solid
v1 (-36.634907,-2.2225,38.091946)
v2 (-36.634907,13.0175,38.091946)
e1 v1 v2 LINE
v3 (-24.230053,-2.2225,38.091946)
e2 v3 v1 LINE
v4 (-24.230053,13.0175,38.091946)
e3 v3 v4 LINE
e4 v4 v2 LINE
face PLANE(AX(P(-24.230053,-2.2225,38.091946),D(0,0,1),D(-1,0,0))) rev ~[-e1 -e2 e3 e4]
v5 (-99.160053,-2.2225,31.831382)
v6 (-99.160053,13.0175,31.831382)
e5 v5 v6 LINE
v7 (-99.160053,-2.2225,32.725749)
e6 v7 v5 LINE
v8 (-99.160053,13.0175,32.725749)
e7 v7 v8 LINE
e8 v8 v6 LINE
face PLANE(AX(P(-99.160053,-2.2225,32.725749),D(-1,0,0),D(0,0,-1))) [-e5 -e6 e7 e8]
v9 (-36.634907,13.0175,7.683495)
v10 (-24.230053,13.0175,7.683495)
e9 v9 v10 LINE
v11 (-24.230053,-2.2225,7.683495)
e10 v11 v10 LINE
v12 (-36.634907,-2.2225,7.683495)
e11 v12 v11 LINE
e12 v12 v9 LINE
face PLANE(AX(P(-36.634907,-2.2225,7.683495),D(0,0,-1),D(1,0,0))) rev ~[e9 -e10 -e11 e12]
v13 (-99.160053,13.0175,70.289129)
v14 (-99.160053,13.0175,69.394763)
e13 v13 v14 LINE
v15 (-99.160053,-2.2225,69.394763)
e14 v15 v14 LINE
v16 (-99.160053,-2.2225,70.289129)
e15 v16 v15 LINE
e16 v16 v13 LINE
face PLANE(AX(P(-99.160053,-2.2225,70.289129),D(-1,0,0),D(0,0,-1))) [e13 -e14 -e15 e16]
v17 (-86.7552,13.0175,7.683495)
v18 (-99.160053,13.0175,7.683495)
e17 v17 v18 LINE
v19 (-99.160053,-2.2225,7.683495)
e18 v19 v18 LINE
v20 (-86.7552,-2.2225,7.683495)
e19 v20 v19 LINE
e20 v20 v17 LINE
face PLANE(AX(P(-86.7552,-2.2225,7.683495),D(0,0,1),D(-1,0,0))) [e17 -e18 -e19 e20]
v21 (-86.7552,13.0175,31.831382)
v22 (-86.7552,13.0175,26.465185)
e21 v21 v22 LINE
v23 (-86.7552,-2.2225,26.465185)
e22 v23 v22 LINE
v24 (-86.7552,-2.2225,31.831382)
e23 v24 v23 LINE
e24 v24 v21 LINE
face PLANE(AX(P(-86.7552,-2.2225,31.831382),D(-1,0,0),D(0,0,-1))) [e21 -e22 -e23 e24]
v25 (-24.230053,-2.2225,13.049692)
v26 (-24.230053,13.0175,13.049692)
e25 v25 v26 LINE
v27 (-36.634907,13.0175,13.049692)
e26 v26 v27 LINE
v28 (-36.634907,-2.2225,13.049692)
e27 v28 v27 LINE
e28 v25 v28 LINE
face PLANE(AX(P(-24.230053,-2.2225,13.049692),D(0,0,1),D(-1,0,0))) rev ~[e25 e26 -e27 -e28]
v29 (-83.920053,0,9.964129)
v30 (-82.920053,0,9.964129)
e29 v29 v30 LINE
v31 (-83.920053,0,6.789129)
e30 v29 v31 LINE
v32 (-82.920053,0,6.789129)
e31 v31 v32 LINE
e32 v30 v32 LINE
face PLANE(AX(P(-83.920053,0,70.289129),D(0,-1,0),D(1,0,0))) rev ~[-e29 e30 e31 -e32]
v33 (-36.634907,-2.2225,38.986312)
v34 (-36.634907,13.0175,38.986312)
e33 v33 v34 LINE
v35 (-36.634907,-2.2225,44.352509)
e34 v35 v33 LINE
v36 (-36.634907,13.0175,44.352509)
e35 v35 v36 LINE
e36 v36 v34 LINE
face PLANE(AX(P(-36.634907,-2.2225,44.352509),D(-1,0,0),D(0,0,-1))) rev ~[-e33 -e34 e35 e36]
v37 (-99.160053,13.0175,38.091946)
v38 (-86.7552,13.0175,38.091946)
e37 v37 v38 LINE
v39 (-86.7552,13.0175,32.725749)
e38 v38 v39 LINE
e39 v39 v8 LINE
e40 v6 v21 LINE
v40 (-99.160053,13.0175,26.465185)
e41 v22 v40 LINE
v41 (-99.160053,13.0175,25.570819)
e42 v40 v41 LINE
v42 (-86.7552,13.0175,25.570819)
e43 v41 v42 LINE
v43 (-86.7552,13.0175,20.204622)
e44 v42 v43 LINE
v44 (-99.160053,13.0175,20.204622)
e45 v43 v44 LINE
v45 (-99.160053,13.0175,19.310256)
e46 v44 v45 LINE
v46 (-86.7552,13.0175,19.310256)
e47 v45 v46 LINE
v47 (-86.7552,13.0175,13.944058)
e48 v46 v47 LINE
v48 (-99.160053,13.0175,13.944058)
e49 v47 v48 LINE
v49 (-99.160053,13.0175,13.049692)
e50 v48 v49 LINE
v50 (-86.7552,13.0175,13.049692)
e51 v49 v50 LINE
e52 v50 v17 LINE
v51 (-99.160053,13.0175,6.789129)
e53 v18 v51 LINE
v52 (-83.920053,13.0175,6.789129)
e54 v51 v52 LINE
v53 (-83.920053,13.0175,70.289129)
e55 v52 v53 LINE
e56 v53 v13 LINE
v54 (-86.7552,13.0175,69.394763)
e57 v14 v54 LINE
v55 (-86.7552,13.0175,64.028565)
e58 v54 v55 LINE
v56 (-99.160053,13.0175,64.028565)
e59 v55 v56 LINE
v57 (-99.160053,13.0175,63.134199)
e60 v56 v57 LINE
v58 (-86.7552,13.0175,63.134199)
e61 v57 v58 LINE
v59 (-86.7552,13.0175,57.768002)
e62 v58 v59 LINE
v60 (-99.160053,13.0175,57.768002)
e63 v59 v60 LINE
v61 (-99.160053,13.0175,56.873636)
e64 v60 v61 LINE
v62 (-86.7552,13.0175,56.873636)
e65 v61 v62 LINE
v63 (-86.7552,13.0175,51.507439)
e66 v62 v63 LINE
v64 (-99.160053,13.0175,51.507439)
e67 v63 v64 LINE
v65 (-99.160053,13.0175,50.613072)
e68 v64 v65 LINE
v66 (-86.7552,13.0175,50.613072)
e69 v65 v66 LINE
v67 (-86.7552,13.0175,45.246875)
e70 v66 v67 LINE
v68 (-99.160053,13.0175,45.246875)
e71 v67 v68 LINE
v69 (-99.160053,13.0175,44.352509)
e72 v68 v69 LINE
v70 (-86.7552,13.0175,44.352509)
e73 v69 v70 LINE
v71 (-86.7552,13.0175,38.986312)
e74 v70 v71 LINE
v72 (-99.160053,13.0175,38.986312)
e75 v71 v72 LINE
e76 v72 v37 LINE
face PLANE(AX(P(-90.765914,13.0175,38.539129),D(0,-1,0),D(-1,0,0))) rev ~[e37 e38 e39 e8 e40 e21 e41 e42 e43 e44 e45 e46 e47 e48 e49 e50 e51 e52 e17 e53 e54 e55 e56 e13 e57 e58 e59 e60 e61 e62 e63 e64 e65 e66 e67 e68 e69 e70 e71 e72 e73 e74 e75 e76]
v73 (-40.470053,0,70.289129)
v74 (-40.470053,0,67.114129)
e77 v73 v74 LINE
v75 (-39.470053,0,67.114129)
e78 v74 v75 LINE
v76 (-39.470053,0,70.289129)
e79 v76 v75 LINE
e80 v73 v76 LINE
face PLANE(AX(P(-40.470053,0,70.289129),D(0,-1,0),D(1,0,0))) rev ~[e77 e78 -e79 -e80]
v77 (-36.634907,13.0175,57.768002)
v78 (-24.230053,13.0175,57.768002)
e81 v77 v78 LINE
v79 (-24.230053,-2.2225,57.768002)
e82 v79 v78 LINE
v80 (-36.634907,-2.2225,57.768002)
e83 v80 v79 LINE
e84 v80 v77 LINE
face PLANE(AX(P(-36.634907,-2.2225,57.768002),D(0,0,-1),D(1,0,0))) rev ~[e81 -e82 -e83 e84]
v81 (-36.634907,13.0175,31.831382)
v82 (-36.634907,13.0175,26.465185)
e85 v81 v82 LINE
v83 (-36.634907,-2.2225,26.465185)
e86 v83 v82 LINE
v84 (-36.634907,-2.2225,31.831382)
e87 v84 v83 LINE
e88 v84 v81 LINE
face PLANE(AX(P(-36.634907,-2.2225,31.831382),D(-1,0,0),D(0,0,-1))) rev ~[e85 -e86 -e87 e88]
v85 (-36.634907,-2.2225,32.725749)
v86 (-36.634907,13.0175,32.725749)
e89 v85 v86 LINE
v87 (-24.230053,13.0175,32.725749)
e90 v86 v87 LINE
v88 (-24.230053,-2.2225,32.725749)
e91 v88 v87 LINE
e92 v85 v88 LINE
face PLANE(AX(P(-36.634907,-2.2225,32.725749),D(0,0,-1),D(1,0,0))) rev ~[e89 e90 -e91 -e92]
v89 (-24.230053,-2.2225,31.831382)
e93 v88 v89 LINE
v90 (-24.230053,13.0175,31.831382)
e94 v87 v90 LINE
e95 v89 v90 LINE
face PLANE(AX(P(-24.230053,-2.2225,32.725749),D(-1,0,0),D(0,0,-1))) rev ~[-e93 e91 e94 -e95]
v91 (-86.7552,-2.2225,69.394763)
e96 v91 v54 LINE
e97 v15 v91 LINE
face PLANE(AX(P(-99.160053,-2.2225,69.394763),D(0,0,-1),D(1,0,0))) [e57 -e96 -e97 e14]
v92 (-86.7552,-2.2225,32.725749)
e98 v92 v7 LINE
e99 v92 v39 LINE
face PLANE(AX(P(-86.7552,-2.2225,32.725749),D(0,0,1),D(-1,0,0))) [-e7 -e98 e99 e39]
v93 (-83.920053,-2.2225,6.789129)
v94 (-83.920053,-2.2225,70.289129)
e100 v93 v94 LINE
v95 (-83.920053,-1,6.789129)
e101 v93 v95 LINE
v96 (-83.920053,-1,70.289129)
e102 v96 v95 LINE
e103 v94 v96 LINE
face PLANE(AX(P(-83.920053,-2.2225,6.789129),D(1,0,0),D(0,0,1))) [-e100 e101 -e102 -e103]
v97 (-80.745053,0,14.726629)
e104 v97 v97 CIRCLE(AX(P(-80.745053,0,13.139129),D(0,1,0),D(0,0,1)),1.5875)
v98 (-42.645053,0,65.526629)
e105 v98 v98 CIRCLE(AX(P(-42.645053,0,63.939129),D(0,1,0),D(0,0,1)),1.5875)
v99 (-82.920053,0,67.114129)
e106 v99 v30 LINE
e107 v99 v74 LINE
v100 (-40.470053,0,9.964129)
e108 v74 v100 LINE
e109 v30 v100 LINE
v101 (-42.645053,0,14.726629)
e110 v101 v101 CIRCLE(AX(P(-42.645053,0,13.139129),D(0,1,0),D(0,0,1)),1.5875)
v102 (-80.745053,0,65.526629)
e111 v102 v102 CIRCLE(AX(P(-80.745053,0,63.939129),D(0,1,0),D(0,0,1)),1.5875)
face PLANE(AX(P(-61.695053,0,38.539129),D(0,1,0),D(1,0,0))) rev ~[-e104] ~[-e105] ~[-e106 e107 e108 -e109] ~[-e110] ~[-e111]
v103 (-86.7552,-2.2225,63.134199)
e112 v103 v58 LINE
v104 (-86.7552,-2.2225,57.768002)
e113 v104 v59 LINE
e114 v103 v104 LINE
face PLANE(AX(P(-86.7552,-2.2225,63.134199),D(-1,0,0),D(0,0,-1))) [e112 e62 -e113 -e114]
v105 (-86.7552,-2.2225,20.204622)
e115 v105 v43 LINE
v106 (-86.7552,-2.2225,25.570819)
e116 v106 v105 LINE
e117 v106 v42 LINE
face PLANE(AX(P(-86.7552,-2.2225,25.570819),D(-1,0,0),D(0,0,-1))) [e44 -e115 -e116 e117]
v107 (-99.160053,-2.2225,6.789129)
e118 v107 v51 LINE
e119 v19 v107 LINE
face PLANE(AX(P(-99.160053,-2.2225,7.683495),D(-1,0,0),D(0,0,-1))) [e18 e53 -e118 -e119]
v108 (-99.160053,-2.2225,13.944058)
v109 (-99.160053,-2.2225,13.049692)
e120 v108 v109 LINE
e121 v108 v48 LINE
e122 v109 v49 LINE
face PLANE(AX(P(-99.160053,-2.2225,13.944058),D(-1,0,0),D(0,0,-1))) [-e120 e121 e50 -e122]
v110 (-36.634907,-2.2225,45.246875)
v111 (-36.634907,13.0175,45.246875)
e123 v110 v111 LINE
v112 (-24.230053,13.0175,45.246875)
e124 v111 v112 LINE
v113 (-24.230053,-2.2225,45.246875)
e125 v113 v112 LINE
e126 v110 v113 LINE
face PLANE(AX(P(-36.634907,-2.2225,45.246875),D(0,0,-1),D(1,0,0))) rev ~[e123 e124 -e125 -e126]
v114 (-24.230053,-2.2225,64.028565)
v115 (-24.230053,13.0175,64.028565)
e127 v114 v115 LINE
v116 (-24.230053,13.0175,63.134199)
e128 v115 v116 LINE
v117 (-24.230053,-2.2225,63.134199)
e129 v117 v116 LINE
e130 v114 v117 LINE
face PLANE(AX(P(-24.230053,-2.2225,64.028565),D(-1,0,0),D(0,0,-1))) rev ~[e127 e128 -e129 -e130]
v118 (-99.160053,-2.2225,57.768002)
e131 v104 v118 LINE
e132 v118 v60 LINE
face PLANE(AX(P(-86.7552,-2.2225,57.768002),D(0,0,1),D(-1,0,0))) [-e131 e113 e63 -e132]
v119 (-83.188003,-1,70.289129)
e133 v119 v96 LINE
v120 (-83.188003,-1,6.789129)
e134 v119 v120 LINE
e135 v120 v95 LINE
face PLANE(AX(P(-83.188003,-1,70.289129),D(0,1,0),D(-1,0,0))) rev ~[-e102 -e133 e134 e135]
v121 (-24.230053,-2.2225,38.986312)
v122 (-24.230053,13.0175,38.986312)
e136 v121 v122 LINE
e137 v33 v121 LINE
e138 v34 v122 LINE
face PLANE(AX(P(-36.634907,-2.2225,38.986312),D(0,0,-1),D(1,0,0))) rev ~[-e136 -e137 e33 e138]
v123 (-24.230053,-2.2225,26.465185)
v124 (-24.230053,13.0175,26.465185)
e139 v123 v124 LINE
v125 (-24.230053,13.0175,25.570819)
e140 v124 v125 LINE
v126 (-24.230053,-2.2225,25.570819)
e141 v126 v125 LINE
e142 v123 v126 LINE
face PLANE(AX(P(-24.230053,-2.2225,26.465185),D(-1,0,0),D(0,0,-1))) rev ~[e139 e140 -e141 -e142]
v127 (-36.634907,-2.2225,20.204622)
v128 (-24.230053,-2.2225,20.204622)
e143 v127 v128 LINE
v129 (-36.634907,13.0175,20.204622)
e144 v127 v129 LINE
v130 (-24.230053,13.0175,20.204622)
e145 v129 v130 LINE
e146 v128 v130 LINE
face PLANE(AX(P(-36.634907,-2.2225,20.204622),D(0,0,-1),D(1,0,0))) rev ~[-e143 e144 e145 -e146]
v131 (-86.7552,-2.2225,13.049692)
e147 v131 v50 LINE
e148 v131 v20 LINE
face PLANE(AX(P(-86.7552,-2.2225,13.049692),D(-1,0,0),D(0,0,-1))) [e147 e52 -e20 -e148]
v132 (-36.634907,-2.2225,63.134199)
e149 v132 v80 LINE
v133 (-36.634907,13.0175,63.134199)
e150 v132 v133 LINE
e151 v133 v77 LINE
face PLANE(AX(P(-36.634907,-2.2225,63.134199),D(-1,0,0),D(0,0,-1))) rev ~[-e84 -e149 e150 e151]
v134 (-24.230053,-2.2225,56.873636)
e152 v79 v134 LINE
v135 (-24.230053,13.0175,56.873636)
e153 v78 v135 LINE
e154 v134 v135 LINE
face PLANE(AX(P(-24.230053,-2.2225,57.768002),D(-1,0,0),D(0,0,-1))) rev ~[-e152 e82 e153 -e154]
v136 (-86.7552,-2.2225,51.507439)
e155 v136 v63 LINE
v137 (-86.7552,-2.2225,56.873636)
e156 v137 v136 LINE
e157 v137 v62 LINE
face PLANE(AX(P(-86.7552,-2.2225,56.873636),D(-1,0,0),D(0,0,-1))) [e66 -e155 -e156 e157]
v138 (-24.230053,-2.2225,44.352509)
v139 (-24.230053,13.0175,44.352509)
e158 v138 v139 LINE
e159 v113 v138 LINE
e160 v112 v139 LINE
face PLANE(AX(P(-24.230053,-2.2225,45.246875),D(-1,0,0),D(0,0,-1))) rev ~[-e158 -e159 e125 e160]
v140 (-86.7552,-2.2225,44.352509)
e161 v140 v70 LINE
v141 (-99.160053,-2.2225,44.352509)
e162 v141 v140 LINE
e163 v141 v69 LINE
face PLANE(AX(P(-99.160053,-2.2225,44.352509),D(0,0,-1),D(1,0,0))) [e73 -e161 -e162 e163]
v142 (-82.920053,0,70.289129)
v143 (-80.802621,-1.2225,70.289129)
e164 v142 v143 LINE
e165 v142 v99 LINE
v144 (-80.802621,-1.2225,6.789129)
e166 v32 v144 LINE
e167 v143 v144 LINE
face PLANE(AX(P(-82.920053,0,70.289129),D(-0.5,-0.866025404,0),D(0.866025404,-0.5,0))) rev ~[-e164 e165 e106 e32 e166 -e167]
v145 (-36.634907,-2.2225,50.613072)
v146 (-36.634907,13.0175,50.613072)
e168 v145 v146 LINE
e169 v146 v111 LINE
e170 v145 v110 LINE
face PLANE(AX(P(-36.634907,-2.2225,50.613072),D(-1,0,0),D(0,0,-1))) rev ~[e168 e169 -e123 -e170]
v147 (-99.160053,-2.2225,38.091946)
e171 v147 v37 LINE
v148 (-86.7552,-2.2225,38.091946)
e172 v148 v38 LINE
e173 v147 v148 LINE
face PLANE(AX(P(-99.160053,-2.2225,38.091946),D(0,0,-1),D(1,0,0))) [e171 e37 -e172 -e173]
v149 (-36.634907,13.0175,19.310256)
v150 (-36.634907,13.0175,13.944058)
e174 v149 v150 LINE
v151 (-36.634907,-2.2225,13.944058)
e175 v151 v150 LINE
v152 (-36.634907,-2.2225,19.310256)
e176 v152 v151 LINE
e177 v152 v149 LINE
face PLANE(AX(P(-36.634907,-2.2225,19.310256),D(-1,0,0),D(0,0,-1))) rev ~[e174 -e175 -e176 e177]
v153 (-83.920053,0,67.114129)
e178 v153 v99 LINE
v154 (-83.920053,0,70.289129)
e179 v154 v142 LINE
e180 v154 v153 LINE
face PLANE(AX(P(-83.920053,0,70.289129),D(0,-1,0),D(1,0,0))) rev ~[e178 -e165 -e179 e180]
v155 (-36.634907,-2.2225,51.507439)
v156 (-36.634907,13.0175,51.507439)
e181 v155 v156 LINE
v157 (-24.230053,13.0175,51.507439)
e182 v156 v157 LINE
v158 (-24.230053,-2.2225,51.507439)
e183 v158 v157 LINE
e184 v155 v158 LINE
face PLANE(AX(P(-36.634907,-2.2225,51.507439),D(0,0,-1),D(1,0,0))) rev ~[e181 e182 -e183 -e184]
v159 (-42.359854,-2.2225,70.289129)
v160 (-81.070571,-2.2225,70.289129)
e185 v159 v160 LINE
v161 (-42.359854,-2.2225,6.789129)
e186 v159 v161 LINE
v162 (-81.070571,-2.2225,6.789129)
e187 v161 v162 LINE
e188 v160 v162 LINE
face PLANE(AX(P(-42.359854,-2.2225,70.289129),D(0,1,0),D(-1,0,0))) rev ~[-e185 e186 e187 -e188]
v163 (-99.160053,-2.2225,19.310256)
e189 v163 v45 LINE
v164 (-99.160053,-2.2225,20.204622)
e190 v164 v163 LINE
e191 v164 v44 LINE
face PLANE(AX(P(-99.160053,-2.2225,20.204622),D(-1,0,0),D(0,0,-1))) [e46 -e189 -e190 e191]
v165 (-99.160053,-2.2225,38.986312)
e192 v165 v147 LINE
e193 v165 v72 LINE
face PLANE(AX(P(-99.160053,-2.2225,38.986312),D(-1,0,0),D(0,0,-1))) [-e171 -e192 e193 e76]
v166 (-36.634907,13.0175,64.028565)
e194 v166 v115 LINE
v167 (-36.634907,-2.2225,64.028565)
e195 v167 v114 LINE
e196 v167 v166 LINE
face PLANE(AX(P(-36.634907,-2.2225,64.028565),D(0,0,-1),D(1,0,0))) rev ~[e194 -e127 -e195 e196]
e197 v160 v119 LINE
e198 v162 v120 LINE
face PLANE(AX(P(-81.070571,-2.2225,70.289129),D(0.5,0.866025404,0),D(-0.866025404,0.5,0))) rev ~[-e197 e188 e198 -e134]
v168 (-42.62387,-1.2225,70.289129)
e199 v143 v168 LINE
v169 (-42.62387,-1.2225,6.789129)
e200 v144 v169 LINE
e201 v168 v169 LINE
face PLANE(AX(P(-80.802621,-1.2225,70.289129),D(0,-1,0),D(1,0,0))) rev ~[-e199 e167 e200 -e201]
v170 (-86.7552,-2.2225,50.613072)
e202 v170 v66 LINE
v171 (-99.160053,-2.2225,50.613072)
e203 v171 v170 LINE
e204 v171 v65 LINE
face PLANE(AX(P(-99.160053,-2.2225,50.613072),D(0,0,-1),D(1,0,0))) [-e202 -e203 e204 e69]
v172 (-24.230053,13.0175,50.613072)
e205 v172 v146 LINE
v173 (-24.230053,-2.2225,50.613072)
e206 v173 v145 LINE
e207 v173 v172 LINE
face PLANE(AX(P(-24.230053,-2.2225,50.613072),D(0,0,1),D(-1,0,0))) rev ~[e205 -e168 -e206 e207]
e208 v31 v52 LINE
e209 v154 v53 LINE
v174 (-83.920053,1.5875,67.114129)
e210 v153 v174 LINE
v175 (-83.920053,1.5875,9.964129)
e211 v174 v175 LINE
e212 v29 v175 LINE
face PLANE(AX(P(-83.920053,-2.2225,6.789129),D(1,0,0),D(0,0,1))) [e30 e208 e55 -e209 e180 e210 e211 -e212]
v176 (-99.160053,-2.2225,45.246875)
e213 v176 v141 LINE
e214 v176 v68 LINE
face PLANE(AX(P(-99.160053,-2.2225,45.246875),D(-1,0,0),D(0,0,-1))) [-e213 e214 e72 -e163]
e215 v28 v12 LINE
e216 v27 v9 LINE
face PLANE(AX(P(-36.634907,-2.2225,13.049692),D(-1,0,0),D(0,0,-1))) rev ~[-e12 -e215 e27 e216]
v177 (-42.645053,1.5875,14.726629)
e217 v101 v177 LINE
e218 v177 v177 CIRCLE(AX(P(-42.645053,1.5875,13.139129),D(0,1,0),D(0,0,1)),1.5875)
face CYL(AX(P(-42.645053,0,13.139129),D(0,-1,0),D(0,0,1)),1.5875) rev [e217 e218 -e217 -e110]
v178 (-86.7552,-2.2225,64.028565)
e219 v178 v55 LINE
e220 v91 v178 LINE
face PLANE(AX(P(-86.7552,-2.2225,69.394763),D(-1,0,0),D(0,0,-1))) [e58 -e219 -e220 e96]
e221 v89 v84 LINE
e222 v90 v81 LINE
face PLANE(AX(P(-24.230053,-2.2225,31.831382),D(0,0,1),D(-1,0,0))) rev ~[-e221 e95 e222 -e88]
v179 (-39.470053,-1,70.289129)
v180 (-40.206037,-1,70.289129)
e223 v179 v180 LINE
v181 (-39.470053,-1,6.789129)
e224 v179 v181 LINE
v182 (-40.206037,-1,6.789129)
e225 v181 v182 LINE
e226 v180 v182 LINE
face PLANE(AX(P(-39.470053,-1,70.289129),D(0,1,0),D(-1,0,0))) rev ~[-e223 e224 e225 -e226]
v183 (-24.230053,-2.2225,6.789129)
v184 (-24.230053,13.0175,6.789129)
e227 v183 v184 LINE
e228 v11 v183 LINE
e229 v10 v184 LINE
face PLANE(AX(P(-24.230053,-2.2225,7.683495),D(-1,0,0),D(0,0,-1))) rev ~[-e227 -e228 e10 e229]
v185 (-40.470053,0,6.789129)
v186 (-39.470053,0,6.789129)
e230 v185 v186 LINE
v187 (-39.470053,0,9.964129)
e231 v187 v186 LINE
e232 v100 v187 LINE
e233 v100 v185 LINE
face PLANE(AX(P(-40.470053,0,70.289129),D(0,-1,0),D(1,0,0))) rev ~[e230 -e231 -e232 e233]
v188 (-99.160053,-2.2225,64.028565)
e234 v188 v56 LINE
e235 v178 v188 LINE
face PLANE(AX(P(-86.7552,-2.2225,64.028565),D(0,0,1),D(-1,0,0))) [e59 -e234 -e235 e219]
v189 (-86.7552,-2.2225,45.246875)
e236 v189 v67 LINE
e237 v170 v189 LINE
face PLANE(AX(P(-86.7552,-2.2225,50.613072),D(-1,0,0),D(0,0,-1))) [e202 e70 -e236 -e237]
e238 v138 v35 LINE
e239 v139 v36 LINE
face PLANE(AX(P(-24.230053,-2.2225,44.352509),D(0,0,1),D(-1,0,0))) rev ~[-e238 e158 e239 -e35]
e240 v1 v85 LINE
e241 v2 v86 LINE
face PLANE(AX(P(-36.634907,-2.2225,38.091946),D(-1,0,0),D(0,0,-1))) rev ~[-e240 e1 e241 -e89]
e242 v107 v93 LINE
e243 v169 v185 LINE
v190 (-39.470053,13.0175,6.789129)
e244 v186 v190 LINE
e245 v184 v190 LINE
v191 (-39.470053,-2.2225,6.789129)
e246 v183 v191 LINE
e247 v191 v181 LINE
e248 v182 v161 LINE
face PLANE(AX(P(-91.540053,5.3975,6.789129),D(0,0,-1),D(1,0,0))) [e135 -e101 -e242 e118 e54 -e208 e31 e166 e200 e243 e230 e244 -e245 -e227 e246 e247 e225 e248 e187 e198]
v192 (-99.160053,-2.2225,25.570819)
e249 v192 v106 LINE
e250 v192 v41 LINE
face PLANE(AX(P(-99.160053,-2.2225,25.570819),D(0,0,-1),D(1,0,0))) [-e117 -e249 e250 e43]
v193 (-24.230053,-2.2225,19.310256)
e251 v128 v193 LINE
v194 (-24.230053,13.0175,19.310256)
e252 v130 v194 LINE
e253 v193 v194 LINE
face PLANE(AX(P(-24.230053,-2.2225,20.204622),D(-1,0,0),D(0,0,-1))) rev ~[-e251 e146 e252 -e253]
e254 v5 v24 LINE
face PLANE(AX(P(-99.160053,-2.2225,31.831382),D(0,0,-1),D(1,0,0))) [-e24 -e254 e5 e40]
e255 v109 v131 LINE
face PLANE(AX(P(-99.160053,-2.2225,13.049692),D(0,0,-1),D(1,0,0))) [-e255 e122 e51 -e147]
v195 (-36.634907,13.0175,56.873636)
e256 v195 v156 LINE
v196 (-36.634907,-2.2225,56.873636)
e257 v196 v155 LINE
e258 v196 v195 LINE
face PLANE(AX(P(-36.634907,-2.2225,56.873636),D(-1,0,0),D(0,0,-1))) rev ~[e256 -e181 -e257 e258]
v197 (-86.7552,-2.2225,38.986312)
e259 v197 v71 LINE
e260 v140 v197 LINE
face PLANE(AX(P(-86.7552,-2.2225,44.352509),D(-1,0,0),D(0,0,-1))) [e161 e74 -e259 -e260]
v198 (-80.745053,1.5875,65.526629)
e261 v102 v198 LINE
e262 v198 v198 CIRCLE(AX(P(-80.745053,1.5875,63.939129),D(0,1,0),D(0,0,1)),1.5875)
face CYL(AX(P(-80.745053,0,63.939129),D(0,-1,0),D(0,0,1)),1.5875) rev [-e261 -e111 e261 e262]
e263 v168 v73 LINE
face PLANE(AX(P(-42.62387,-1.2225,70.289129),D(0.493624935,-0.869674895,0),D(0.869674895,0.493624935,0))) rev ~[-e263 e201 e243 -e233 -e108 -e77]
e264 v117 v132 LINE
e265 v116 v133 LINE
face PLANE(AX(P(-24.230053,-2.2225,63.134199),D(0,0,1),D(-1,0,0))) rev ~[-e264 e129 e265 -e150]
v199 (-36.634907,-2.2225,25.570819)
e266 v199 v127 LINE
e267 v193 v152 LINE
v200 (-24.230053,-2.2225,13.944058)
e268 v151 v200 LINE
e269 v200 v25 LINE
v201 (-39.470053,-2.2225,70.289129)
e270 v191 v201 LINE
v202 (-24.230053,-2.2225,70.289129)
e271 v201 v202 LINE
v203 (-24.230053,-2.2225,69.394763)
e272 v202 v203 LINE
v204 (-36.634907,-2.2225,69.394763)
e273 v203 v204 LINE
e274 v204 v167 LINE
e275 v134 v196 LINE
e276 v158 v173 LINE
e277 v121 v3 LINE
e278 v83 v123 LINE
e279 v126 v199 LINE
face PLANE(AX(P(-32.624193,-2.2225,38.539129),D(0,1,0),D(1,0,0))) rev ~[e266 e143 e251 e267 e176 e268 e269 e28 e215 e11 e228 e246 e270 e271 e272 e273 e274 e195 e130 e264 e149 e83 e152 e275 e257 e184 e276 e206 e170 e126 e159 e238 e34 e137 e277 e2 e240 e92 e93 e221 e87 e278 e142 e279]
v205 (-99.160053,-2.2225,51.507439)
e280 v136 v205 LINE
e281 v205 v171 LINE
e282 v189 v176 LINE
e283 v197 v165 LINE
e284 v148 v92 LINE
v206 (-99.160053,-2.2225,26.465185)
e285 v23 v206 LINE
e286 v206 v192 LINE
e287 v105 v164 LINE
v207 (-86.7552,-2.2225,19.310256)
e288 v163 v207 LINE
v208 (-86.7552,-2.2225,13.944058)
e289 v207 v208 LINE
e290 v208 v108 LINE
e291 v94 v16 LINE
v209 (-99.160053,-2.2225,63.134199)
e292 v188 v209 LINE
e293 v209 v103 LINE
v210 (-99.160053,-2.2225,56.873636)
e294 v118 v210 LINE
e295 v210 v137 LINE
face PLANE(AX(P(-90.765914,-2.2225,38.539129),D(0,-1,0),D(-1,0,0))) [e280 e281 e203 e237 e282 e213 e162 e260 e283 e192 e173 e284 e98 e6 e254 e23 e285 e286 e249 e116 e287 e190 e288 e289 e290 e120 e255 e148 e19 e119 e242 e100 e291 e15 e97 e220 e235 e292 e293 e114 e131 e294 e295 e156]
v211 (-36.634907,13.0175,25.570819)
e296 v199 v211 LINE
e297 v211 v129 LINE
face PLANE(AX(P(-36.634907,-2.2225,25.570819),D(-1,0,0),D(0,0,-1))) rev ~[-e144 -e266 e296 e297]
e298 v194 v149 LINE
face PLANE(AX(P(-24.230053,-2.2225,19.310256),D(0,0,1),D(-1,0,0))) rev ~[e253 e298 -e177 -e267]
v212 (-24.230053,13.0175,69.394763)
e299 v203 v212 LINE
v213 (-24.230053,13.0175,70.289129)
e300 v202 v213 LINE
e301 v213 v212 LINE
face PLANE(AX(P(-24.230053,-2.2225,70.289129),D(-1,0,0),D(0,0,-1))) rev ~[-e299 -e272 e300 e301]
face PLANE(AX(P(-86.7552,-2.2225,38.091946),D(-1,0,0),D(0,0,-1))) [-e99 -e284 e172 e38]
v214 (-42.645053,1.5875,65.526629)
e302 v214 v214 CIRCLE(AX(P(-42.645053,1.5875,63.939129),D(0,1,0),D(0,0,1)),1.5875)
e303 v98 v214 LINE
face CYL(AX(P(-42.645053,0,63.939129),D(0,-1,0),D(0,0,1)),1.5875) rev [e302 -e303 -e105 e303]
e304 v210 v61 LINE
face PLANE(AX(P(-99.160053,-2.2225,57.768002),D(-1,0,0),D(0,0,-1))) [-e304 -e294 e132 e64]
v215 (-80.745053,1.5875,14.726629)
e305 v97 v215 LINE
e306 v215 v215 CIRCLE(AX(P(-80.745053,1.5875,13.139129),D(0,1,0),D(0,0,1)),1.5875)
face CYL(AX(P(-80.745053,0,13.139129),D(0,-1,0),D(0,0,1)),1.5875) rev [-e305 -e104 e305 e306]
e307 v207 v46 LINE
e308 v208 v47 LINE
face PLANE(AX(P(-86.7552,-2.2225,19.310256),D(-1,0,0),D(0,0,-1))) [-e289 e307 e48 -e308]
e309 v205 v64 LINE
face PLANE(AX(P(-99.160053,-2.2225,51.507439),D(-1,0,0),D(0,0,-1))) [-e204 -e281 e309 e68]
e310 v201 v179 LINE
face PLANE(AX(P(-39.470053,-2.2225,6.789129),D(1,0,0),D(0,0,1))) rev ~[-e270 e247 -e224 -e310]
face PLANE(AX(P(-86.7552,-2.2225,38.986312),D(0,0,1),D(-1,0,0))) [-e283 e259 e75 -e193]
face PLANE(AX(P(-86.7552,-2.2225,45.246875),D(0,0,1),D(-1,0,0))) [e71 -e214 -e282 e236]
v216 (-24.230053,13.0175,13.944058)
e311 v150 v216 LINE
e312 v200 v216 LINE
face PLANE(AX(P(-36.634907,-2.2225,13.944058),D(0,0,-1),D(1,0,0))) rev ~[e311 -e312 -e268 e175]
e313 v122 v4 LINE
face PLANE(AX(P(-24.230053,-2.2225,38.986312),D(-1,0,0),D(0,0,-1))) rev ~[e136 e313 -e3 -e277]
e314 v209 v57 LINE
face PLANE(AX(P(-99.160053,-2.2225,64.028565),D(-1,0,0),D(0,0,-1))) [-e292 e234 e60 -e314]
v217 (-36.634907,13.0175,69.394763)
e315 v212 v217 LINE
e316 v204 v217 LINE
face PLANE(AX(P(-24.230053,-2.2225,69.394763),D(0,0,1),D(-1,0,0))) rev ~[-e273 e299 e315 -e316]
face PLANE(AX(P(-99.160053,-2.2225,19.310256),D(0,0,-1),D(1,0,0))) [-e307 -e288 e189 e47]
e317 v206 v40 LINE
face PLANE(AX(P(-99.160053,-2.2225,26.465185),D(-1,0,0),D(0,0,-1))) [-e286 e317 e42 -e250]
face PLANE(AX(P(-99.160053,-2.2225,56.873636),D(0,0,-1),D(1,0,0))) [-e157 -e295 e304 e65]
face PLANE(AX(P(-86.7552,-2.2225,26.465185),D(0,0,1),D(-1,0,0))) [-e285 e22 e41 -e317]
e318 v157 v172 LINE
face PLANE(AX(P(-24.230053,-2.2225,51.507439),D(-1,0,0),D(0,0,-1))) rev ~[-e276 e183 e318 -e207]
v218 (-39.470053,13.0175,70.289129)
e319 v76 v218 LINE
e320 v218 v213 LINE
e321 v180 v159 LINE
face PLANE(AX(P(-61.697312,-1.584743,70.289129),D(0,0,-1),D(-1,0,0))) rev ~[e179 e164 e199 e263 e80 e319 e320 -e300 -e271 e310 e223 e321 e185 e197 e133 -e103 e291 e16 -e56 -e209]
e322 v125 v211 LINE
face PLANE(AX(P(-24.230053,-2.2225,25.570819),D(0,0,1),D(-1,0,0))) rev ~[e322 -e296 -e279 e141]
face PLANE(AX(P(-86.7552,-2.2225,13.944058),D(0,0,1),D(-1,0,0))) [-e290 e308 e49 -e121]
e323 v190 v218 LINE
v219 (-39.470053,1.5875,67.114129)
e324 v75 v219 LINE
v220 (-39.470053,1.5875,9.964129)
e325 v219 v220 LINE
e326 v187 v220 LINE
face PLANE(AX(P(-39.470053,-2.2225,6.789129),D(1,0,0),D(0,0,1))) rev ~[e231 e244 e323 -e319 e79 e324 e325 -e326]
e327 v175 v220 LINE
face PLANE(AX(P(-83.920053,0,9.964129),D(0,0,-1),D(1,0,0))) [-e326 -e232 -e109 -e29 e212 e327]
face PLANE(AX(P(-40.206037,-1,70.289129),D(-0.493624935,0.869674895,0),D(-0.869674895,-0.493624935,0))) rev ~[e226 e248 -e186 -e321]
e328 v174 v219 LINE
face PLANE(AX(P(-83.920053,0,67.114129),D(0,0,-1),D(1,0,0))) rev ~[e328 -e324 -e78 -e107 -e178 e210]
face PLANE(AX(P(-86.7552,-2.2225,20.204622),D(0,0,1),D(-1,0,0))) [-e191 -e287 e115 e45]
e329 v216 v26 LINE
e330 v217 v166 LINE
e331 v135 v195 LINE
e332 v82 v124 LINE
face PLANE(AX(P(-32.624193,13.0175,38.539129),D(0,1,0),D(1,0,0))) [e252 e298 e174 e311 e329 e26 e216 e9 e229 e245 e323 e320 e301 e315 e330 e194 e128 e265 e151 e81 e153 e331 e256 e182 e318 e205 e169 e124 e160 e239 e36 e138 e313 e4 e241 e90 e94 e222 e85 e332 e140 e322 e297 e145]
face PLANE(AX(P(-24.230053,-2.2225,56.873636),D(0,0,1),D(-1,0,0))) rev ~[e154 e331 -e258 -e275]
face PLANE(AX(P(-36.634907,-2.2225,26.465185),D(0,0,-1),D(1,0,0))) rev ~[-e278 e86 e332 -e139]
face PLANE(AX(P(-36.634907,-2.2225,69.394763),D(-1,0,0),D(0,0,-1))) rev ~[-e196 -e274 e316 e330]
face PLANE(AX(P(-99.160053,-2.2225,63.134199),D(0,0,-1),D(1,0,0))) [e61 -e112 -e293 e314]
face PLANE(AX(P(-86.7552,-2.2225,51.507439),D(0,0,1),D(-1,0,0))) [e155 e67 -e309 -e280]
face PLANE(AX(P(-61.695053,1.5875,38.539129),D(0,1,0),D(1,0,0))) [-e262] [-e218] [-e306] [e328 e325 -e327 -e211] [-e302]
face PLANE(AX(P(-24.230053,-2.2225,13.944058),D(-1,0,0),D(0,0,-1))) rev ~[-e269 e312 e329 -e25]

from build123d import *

# Parameters (mm, degrees)
SKETCH1_W                = 44.45
SKETCH1_H                = 57.15
SKETCH1_R                = 1.5875
BOSS_EXTRUDE1_DEPTH      = 1.5875
BOSS_EXTRUDE2_DEPTH      = 11.43
BOSS_EXTRUDE2_DEPTH_BACK = 3.81
BOSS_EXTRUDE3_REACH      = 120.467


with BuildPart() as part:
    # Sketch1 → Boss-Extrude1 (new body)
    with BuildSketch(Plane(origin=(0, 0, 0), x_dir=(1, 0, 0), z_dir=(0, 1, 0))):
        with Locations((-61.695053498, -38.539128831)):
            Rectangle(SKETCH1_W, SKETCH1_H)
        with Locations(Location((-80.745053498, -63.939128831, 0), (0, 0, 270))):
            Circle(SKETCH1_R, mode=Mode.SUBTRACT)
        with Locations(Location((-42.645053498, -63.939128831, 0), (0, 0, 270))):
            Circle(SKETCH1_R, mode=Mode.SUBTRACT)
        with Locations(Location((-42.645053498, -13.139128831, 0), (0, 0, 270))):
            Circle(SKETCH1_R, mode=Mode.SUBTRACT)
        with Locations(Location((-80.745053498, -13.139128831, 0), (0, 0, 270))):
            Circle(SKETCH1_R, mode=Mode.SUBTRACT)
    extrude(amount=BOSS_EXTRUDE1_DEPTH)

    # Sketch2 → Boss-Extrude2 (add, two sides: drawn at the far end of the back side and taken through both)
    with BuildSketch(Plane(origin=(0, 1.5875, 0), x_dir=(1, 0, 0), z_dir=(0, 1, 0)).offset(-BOSS_EXTRUDE2_DEPTH_BACK)):
        Polygon((-99.160053498, -6.789128831), (-83.920053498, -6.789128831), (-83.920053498, -70.289128831), (-99.160053498, -70.289128831), (-99.160053498, -69.394762634), (-86.755200336, -69.394762634), (-86.755200336, -64.028565451), (-99.160053498, -64.028565451), (-99.160053498, -63.134199254), (-86.755200336, -63.134199254), (-86.755200336, -57.768002071), (-99.160053498, -57.768002071), (-99.160053498, -56.873635873), (-86.755200336, -56.873635873), (-86.755200336, -51.50743869), (-99.160053498, -51.50743869), (-99.160053498, -50.613072493), (-86.755200336, -50.613072493), (-86.755200336, -45.24687531), (-99.160053498, -45.24687531), (-99.160053498, -44.352509113), (-86.755200336, -44.352509113), (-86.755200336, -38.98631193), (-99.160053498, -38.98631193), (-99.160053498, -38.091945732), (-86.755200336, -38.091945732), (-86.755200336, -32.725748549), (-99.160053498, -32.725748549), (-99.160053498, -31.831382352), (-86.755200336, -31.831382352), (-86.755200336, -26.465185169), (-99.160053498, -26.465185169), (-99.160053498, -25.570818972), (-86.755200336, -25.570818972), (-86.755200336, -20.204621789), (-99.160053498, -20.204621789), (-99.160053498, -19.310255592), (-86.755200336, -19.310255592), (-86.755200336, -13.944058409), (-99.160053498, -13.944058409), (-99.160053498, -13.049692211), (-86.755200336, -13.049692211), (-86.755200336, -7.683495028), (-99.160053498, -7.683495028), align=None)
        Polygon((-24.230053498, -7.683495028), (-24.230053498, -6.789128831), (-39.470053498, -6.789128831), (-39.470053498, -70.289128831), (-24.230053498, -70.289128831), (-24.230053498, -69.394762634), (-36.63490666, -69.394762634), (-36.63490666, -64.028565451), (-24.230053498, -64.028565451), (-24.230053498, -63.134199254), (-36.63490666, -63.134199254), (-36.63490666, -57.768002071), (-24.230053498, -57.768002071), (-24.230053498, -56.873635873), (-36.63490666, -56.873635873), (-36.63490666, -51.50743869), (-24.230053498, -51.50743869), (-24.230053498, -50.613072493), (-36.63490666, -50.613072493), (-36.63490666, -45.24687531), (-24.230053498, -45.24687531), (-24.230053498, -44.352509113), (-36.63490666, -44.352509113), (-36.63490666, -38.98631193), (-24.230053498, -38.98631193), (-24.230053498, -38.091945732), (-36.63490666, -38.091945732), (-36.63490666, -32.725748549), (-24.230053498, -32.725748549), (-24.230053498, -31.831382352), (-36.63490666, -31.831382352), (-36.63490666, -26.465185169), (-24.230053498, -26.465185169), (-24.230053498, -25.570818972), (-36.63490666, -25.570818972), (-36.63490666, -20.204621789), (-24.230053498, -20.204621789), (-24.230053498, -19.310255592), (-36.63490666, -19.310255592), (-36.63490666, -13.944058409), (-24.230053498, -13.944058409), (-24.230053498, -13.049692211), (-36.63490666, -13.049692211), (-36.63490666, -7.683495028), align=None)
    extrude(amount=BOSS_EXTRUDE2_DEPTH + BOSS_EXTRUDE2_DEPTH_BACK)

    # Boss-Extrude3: up to this face of the body (flat: up to its plane)
    boss_extrude3_end = Plane(part.part.faces().sort_by_distance((-91.540053498, 5.3975, 6.789128831))[0])
    # Sketch4 → Boss-Extrude3 (add, up to the picked face)
    with BuildSketch(Plane.XY.offset(70.289128831), mode=Mode.PRIVATE) as boss_extrude3_sk1:
        Polygon((-83.920053498, 0), (-82.920053498, 0), (-80.802621386, -1.2225), (-42.623870056, -1.2225), (-40.470053498, 0), (-39.470053498, 0), (-39.470053498, -1), (-40.206037044, -1), (-42.359853602, -2.2225), (-81.070570578, -2.2225), (-83.188002691, -1), (-83.920053498, -1), align=None)
    boss_extrude3_tool1 = split(extrude(boss_extrude3_sk1.sketch, amount=-BOSS_EXTRUDE3_REACH, mode=Mode.PRIVATE), bisect_by=boss_extrude3_end, keep=Keep.BOTH, mode=Mode.PRIVATE)
    add(boss_extrude3_tool1.solids().sort_by(Axis((-61.697362, -1.608795, 70.289129), (0, 0, -1)))[0])


solid = part.part
